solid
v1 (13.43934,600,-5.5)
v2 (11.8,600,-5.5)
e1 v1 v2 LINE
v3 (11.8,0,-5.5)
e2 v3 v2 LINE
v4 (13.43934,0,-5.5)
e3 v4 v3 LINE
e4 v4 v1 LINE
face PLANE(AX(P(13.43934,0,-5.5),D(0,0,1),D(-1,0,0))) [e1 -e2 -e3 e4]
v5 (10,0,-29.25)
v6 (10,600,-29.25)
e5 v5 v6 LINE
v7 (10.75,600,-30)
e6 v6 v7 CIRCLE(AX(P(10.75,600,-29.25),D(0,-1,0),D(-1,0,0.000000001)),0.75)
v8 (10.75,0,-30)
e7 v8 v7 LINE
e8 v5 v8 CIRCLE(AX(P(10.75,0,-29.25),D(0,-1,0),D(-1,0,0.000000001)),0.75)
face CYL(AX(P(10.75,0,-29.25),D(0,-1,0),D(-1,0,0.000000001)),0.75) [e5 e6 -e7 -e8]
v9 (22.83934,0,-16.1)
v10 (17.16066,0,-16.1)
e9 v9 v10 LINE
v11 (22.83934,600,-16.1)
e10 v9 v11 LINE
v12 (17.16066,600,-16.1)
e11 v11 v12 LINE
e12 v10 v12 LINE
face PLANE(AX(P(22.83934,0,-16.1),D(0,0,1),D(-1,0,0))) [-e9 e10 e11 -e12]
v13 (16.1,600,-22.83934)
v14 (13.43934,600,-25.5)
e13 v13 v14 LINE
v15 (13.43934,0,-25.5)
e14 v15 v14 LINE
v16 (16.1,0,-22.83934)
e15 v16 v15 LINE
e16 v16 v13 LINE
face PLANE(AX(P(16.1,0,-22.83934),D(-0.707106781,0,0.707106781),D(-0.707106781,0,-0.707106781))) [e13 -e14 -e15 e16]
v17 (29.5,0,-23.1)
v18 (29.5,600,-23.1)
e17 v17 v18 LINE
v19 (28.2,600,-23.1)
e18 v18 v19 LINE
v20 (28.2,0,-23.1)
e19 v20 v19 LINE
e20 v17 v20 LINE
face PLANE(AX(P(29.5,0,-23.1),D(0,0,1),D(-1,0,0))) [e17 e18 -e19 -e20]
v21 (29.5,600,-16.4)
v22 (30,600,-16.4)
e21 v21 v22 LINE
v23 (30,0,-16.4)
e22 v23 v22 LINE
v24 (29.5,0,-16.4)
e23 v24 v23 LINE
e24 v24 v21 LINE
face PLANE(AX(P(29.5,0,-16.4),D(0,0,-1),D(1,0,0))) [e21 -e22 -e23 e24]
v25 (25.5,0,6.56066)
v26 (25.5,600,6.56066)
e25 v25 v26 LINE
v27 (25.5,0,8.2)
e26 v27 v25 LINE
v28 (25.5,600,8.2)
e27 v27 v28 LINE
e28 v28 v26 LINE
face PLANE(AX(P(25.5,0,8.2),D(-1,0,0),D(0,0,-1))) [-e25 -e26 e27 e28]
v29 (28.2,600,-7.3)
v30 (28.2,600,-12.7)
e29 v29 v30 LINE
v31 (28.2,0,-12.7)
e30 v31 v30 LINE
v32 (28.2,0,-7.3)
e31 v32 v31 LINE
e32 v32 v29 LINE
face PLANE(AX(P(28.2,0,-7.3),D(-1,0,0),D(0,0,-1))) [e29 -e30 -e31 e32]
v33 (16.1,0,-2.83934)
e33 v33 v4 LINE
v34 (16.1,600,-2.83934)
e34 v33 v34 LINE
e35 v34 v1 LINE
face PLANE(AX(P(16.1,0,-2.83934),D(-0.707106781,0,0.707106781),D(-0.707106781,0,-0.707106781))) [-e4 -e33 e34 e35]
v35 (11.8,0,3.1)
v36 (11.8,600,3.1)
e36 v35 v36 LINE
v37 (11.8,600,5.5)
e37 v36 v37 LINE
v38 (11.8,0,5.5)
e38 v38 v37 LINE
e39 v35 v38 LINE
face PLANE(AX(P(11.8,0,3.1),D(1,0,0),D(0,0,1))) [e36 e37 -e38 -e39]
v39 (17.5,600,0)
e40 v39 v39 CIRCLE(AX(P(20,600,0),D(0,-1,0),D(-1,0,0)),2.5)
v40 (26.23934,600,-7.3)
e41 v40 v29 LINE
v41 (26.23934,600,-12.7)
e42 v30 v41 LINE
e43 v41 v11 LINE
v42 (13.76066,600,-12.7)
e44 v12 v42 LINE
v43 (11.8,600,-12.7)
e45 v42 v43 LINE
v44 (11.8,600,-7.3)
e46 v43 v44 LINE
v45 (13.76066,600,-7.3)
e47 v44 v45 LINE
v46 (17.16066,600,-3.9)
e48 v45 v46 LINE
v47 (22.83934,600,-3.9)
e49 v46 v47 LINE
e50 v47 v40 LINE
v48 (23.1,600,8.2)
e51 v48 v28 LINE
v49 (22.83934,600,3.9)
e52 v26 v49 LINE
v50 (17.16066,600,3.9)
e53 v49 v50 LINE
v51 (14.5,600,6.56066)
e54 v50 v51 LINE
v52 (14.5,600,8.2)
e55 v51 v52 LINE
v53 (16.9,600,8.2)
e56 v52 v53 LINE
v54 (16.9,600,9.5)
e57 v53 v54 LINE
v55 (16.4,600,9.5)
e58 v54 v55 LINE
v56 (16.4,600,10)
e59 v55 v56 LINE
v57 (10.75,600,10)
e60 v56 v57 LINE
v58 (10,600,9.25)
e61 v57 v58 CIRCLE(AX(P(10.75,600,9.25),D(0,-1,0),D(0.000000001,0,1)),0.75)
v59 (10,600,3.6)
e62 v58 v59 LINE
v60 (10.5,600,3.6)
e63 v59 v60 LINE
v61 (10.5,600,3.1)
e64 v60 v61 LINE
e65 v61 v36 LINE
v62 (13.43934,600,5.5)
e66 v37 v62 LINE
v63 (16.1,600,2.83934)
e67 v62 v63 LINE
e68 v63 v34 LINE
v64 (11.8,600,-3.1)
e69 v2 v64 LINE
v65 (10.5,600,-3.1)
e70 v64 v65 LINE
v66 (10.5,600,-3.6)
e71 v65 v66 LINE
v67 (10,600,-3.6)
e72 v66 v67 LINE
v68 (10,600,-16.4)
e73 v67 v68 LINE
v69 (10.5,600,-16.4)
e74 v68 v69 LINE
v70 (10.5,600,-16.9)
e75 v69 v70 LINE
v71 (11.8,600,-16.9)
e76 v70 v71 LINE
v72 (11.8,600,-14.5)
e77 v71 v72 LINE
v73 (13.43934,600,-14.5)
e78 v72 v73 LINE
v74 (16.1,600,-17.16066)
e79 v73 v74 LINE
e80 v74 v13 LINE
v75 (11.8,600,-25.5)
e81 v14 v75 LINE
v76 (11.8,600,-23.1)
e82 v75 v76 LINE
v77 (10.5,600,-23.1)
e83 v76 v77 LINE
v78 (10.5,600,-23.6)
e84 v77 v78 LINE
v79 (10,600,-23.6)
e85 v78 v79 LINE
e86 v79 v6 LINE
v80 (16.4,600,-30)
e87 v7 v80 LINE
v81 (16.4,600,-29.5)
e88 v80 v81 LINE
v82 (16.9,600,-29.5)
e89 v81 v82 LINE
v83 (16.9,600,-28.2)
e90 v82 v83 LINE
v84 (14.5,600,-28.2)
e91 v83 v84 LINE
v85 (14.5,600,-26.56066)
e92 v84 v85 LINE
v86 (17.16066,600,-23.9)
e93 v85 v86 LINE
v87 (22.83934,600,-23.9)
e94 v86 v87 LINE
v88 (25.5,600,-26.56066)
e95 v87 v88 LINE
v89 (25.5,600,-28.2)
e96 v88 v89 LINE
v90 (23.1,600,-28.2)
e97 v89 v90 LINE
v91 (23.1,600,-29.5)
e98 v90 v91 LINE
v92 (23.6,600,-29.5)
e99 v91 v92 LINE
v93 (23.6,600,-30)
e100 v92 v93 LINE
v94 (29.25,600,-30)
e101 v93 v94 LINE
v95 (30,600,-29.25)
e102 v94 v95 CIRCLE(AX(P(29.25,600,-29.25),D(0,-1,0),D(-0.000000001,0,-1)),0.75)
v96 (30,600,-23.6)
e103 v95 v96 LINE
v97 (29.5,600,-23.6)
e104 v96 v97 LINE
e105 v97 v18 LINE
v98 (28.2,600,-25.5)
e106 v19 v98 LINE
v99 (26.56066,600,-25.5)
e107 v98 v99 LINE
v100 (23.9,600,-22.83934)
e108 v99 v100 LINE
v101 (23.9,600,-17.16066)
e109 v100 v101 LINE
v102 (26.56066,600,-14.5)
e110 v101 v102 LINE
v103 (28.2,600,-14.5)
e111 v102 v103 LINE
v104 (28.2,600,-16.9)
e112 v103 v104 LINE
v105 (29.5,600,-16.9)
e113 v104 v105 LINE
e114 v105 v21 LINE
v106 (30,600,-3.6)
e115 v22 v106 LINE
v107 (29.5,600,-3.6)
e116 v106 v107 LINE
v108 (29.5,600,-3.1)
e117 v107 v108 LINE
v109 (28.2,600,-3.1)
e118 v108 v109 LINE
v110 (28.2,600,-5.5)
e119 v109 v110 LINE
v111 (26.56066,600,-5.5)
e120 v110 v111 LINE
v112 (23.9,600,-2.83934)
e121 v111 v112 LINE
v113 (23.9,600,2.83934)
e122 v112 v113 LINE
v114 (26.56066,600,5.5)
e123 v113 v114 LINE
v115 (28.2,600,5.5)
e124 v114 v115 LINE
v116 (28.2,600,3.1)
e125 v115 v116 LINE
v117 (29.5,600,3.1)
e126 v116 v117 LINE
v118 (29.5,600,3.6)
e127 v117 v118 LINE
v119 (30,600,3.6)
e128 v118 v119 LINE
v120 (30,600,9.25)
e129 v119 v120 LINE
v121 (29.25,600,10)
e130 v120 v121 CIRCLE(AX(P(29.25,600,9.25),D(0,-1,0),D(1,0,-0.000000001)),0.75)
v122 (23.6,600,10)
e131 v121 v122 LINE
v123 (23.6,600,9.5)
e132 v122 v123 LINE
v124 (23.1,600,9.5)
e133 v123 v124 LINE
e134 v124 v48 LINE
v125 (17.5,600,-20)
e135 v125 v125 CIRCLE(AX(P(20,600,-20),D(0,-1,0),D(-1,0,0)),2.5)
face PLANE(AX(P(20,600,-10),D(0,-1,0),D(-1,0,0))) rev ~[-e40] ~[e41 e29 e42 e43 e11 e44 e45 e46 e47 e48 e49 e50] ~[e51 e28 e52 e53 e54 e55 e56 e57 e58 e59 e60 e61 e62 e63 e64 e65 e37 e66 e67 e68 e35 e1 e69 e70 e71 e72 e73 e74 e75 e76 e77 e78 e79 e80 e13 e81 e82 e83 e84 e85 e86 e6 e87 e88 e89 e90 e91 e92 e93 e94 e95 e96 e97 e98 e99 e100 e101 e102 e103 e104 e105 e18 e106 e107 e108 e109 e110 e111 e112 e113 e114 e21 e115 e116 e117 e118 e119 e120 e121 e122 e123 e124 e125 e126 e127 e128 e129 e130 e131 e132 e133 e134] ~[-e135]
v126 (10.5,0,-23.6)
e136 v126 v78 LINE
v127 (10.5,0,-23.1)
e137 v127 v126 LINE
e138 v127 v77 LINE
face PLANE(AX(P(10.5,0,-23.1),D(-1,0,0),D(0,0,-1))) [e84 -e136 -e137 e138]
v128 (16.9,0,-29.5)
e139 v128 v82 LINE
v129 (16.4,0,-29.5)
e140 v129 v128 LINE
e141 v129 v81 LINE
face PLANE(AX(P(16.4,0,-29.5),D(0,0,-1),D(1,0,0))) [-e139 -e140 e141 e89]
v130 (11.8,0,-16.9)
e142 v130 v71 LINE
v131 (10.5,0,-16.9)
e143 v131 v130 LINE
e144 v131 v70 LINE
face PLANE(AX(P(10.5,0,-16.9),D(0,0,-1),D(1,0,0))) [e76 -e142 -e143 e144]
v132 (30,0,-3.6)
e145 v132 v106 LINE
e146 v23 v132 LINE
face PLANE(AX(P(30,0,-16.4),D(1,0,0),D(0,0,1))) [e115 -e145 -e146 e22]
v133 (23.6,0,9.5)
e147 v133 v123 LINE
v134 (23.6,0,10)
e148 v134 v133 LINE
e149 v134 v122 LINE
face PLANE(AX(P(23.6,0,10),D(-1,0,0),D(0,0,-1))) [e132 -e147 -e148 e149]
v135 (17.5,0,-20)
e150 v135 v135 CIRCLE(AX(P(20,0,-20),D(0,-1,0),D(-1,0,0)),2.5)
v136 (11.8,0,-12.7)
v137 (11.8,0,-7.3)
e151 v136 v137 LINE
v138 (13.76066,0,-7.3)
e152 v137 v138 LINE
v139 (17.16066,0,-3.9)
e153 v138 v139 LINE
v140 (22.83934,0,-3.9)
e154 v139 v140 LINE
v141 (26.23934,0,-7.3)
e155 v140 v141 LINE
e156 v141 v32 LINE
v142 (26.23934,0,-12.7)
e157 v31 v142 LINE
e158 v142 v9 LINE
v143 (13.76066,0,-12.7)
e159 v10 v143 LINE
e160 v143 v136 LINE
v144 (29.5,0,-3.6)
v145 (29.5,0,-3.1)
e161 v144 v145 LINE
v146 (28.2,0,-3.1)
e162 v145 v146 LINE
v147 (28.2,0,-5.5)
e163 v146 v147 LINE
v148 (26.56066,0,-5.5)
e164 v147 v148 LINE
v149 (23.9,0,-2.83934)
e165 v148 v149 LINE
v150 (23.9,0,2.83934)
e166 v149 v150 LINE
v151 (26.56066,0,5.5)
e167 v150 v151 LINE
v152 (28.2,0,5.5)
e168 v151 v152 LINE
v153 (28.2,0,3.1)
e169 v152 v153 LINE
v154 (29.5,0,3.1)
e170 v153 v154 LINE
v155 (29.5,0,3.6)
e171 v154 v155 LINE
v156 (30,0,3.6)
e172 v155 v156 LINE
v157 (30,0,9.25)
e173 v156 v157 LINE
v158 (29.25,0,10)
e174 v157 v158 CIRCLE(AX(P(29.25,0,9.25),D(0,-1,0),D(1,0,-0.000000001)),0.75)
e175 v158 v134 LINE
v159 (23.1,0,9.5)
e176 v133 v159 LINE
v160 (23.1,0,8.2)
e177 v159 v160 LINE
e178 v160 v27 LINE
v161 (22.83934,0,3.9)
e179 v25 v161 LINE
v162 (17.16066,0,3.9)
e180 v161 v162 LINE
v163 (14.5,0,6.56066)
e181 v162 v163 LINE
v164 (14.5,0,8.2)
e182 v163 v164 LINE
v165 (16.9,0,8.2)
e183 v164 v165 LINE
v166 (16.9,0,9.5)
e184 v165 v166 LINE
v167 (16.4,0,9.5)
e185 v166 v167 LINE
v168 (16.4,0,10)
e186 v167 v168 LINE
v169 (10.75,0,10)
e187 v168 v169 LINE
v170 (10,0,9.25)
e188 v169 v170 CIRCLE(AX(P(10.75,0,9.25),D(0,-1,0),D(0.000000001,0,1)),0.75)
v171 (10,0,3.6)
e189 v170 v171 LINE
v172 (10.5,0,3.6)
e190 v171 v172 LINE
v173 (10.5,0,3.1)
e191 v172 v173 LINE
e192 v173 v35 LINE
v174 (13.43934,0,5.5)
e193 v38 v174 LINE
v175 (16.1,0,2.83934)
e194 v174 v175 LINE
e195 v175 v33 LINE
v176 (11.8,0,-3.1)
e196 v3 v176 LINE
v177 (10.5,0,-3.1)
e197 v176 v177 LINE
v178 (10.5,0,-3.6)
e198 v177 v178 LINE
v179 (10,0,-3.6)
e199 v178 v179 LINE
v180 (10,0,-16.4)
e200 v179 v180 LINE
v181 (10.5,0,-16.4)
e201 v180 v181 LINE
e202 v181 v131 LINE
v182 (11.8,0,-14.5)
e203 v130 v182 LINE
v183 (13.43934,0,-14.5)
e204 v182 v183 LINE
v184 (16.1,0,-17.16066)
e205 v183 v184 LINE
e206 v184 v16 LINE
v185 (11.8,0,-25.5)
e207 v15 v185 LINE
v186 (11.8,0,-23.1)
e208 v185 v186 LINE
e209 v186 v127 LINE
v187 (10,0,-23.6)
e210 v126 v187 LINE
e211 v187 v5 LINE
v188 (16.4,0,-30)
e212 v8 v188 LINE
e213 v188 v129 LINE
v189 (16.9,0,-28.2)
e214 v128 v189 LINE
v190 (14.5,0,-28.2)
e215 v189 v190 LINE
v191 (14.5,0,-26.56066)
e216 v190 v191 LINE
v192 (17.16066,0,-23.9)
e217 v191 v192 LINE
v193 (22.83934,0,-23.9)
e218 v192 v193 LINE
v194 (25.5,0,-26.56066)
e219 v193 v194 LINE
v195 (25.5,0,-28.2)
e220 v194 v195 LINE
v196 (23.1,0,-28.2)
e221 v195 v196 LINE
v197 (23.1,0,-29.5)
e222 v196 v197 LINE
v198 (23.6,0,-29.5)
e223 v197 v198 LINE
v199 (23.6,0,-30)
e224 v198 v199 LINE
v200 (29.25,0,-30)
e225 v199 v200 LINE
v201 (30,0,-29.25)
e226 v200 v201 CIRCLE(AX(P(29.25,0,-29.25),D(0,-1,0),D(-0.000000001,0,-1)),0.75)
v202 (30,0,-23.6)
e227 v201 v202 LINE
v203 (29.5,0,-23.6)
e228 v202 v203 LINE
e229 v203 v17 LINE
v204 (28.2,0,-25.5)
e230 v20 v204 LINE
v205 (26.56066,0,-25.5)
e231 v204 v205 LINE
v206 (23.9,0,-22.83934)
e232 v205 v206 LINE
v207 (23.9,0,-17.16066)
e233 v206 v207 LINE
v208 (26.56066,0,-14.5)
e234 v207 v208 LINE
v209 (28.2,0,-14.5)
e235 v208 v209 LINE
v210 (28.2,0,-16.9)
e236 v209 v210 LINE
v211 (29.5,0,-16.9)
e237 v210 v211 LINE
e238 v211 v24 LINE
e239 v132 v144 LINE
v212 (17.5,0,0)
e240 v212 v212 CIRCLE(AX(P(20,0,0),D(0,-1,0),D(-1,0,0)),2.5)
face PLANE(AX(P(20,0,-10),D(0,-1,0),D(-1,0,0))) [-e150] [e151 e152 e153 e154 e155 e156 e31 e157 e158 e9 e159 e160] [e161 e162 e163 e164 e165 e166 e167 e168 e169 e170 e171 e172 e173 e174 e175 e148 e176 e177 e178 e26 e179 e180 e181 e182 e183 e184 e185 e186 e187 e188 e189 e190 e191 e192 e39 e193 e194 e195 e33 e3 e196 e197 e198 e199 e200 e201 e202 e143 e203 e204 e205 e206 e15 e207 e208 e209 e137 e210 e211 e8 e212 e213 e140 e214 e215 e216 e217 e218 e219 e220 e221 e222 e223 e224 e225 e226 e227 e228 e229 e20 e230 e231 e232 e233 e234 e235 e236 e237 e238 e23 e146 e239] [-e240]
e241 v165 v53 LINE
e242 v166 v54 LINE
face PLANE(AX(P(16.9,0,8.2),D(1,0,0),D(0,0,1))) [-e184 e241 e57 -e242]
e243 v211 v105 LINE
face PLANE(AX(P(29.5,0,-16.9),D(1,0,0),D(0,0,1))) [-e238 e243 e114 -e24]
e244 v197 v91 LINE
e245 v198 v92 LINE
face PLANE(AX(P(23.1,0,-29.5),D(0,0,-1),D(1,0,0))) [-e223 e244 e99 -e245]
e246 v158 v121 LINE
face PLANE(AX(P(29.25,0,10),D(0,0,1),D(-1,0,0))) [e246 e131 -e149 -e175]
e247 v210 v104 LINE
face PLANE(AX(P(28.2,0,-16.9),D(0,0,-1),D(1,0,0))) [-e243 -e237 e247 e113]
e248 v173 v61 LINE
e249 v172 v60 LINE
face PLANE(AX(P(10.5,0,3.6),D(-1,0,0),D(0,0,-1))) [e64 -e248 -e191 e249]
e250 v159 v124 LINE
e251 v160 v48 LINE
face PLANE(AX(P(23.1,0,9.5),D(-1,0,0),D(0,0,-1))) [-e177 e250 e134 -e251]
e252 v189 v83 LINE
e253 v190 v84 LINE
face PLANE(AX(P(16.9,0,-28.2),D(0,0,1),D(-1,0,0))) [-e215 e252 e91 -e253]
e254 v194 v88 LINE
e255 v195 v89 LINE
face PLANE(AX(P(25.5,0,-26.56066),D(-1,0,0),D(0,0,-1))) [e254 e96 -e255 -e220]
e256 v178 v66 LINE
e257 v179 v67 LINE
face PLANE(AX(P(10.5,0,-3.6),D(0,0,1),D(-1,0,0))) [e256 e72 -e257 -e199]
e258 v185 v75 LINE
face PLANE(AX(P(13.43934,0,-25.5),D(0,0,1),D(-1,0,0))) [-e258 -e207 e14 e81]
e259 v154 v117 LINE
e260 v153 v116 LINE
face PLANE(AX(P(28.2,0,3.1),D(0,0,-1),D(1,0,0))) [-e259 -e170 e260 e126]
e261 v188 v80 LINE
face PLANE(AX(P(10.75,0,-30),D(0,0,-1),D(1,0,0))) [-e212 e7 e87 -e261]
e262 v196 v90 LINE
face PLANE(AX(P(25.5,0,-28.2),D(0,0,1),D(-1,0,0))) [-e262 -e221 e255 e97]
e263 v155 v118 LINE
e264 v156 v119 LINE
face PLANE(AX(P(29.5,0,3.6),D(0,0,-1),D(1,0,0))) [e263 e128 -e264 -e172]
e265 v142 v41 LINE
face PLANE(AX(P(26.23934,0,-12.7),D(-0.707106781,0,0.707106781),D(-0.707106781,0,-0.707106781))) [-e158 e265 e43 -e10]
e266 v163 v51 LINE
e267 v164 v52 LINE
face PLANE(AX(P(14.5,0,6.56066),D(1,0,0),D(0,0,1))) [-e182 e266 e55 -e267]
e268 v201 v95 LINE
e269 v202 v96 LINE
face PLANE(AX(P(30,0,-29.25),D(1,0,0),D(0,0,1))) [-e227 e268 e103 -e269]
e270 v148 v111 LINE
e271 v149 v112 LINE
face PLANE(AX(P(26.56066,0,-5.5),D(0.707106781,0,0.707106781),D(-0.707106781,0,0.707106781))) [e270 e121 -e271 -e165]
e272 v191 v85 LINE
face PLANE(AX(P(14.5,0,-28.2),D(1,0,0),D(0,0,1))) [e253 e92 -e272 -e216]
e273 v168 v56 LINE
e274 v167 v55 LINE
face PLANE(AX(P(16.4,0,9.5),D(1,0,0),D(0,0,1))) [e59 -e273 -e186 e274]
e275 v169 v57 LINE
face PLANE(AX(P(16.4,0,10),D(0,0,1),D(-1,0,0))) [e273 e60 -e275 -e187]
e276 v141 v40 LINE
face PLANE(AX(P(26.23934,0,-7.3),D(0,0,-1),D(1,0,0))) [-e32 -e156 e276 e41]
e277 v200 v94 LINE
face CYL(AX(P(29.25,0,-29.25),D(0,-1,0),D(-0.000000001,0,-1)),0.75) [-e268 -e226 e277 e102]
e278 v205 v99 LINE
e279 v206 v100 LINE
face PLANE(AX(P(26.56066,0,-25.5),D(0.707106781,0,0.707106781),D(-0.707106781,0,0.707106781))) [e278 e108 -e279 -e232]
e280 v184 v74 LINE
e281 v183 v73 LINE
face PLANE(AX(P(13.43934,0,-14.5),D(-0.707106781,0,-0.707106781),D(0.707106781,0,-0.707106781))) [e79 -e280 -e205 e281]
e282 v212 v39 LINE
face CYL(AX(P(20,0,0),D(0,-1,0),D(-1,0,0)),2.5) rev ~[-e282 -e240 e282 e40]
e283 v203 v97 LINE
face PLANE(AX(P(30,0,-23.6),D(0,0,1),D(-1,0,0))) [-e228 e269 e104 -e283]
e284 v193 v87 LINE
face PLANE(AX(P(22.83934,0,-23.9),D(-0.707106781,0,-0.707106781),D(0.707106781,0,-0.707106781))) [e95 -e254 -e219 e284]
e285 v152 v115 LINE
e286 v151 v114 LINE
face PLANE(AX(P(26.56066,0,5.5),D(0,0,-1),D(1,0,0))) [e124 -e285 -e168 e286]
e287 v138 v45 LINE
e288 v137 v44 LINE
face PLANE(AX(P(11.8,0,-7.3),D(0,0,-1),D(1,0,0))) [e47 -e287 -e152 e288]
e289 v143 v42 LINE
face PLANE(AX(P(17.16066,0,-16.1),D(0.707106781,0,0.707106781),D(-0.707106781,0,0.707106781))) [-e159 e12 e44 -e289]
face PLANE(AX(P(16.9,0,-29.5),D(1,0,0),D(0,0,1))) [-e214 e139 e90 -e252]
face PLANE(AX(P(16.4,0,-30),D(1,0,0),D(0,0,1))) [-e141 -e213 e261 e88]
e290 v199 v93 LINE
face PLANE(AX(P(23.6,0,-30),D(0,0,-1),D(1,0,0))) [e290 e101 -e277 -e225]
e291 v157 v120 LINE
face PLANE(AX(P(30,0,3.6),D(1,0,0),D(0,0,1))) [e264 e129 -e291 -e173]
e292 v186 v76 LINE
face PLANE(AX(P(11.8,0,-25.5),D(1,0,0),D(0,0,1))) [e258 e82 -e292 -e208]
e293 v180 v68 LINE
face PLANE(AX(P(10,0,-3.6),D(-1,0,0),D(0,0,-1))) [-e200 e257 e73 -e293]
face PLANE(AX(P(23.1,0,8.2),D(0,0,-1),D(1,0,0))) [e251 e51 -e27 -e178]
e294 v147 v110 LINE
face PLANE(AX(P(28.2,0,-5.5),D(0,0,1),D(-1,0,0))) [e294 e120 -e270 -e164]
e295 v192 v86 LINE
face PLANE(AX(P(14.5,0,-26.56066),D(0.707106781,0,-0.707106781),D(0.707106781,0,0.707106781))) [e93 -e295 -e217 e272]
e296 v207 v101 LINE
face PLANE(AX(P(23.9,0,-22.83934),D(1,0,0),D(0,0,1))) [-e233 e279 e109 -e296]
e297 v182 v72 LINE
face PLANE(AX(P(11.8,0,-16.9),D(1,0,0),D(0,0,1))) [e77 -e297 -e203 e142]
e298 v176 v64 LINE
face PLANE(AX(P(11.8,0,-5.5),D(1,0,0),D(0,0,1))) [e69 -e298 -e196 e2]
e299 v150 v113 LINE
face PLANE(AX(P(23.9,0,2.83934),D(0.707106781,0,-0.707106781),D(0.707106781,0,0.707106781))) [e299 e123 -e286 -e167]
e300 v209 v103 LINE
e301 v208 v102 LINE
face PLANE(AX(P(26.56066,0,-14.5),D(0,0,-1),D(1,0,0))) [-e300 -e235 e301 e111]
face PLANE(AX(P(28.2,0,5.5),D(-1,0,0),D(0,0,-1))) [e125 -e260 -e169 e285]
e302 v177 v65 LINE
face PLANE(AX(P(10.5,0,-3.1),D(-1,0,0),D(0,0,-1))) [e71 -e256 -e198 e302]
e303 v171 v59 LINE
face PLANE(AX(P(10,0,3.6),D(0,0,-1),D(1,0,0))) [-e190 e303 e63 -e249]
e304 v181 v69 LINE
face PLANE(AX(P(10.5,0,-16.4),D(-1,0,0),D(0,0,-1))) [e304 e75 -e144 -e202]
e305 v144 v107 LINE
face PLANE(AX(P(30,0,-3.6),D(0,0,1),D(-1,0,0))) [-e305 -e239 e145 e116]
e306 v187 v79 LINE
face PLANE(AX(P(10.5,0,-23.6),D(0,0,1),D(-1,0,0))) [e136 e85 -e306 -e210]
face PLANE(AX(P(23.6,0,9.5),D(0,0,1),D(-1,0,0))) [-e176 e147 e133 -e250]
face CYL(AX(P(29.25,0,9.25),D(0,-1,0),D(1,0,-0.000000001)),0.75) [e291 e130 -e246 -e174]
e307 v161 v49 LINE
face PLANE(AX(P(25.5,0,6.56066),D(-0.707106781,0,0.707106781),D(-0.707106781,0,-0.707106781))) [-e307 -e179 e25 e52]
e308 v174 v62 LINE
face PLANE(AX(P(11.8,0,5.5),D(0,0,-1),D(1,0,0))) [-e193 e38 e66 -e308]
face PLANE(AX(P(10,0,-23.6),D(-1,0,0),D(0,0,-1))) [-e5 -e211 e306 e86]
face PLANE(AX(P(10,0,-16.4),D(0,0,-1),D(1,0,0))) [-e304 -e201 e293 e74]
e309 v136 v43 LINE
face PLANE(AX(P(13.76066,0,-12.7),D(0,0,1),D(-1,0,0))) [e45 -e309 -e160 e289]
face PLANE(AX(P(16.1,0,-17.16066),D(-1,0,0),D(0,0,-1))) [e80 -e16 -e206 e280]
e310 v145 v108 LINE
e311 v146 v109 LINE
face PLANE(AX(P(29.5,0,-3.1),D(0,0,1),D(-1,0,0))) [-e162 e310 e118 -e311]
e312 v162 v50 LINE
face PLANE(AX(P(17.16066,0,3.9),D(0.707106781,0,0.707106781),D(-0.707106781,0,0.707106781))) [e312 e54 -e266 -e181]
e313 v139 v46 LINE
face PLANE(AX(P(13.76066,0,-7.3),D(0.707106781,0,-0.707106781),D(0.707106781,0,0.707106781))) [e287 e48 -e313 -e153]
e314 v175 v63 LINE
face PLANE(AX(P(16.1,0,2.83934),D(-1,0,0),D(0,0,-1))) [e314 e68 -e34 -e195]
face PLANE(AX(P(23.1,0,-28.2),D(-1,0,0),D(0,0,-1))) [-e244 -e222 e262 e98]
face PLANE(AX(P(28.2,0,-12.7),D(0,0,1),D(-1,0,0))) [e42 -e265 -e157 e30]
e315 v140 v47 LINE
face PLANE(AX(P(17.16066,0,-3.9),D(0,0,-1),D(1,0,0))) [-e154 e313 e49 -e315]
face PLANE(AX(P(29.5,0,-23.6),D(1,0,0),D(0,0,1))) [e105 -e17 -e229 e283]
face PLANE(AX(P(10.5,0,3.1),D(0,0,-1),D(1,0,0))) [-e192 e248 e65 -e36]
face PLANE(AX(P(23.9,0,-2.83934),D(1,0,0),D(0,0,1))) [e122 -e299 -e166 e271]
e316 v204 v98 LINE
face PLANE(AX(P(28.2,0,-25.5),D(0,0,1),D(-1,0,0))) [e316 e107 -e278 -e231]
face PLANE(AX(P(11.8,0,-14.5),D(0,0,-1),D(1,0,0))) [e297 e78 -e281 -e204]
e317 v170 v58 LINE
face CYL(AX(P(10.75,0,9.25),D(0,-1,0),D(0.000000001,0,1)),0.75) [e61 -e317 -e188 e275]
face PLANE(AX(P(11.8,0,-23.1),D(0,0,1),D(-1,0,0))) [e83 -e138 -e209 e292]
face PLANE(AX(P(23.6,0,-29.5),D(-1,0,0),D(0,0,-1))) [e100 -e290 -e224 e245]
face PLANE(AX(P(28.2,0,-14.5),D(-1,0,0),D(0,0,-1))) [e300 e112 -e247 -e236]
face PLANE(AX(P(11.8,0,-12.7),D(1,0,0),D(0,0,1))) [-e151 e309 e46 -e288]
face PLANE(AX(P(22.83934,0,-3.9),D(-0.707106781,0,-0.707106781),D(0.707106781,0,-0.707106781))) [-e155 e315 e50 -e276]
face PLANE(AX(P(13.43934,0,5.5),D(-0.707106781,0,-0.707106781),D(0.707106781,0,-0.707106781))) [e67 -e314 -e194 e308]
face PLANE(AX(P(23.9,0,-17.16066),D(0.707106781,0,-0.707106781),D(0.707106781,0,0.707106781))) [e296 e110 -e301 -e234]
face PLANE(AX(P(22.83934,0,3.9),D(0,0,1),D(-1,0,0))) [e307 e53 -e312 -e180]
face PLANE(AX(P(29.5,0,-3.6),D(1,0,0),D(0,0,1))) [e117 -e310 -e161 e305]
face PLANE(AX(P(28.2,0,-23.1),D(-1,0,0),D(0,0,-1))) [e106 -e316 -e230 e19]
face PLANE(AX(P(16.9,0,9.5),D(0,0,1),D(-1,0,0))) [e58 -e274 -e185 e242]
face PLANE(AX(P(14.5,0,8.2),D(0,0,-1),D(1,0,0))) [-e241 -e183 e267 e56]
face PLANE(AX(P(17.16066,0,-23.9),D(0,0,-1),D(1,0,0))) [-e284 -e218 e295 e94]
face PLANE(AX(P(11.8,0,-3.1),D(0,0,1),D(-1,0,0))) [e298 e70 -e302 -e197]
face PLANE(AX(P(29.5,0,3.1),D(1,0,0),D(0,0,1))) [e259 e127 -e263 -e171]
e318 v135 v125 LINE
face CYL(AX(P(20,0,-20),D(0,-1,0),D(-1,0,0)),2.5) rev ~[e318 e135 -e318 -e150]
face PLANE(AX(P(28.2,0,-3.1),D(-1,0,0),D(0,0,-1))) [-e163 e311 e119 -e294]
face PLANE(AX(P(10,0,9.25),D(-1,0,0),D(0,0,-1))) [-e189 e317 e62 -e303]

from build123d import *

# Parameters (mm, degrees)
BOSS_EXTRUDE2_DEPTH = 600


with BuildPart() as part:
    # Sketch1 → Boss-Extrude2 (new body)
    with BuildSketch(Plane(origin=(0, 0, 0), x_dir=(1, 0, 0), z_dir=(0, 1, 0))):
        with BuildLine():
            Line((23.9, 20), (23.9, 17.160660172))
            Line((23.9, 17.160660172), (26.560660172, 14.5))
            Line((26.560660172, 14.5), (28.2, 14.5))
            Line((28.2, 14.5), (28.2, 16.9))
            Line((28.2, 16.9), (29.5, 16.9))
            Line((29.5, 16.9), (29.5, 16.4))
            Line((29.5, 16.4), (30, 16.4))
            Line((30, 16.4), (30, 10.75))
            Line((30, 10.75), (30, 9.25))
            Line((30, 9.25), (30, 3.6))
            Line((30, 3.6), (29.5, 3.6))
            Line((29.5, 3.6), (29.5, 3.1))
            Line((29.5, 3.1), (28.2, 3.1))
            Line((28.2, 3.1), (28.2, 5.5))
            Line((28.2, 5.5), (26.560660172, 5.5))
            Line((26.560660172, 5.5), (23.9, 2.839339828))
            Line((23.9, 2.839339828), (23.9, 0))
            Line((23.9, 0), (23.9, -2.839339828))
            Line((23.9, -2.839339828), (26.560660172, -5.5))
            Line((26.560660172, -5.5), (28.2, -5.5))
            Line((28.2, -5.5), (28.2, -3.1))
            Line((28.2, -3.1), (29.5, -3.1))
            Line((29.5, -3.1), (29.5, -3.6))
            Line((29.5, -3.6), (30, -3.6))
            Line((30, -3.6), (30, -9.25))
            ThreePointArc((30, -9.25), (29.780330086, -9.780330086), (29.25, -10))
            Line((29.25, -10), (25.5, -10))
            Line((25.5, -10), (23.6, -10))
            Line((23.6, -10), (23.6, -9.5))
            Line((23.6, -9.5), (23.1, -9.5))
            Line((23.1, -9.5), (23.1, -8.2))
            Line((23.1, -8.2), (25.5, -8.2))
            Line((25.5, -8.2), (25.5, -6.560660172))
            Line((25.5, -6.560660172), (22.839339828, -3.9))
            Line((22.839339828, -3.9), (17.160660172, -3.9))
            Line((17.160660172, -3.9), (14.5, -6.560660172))
            Line((14.5, -6.560660172), (14.5, -8.2))
            Line((14.5, -8.2), (16.9, -8.2))
            Line((16.9, -8.2), (16.9, -9.5))
            Line((16.9, -9.5), (16.4, -9.5))
            Line((16.4, -9.5), (16.4, -10))
            Line((16.4, -10), (14.5, -10))
            Line((14.5, -10), (10.75, -10))
            ThreePointArc((10.75, -10), (10.219669914, -9.780330086), (10, -9.25))
            Line((10, -9.25), (10, -3.6))
            Line((10, -3.6), (10.5, -3.6))
            Line((10.5, -3.6), (10.5, -3.1))
            Line((10.5, -3.1), (11.8, -3.1))
            Line((11.8, -3.1), (11.8, -5.5))
            Line((11.8, -5.5), (13.439339828, -5.5))
            Line((13.439339828, -5.5), (16.1, -2.839339828))
            Line((16.1, -2.839339828), (16.1, 0))
            Line((16.1, 0), (16.1, 2.839339828))
            Line((16.1, 2.839339828), (13.439339828, 5.5))
            Line((13.439339828, 5.5), (11.8, 5.5))
            Line((11.8, 5.5), (11.8, 3.1))
            Line((11.8, 3.1), (10.5, 3.1))
            Line((10.5, 3.1), (10.5, 3.6))
            Line((10.5, 3.6), (10, 3.6))
            Line((10, 3.6), (10, 9.25))
            Line((10, 9.25), (10, 10.75))
            Line((10, 10.75), (10, 16.4))
            Line((10, 16.4), (10.5, 16.4))
            Line((10.5, 16.4), (10.5, 16.9))
            Line((10.5, 16.9), (11.8, 16.9))
            Line((11.8, 16.9), (11.8, 14.5))
            Line((11.8, 14.5), (13.439339828, 14.5))
            Line((13.439339828, 14.5), (16.1, 17.160660172))
            Line((16.1, 17.160660172), (16.1, 20))
            Line((16.1, 20), (16.1, 22.839339828))
            Line((16.1, 22.839339828), (13.439339828, 25.5))
            Line((13.439339828, 25.5), (11.8, 25.5))
            Line((11.8, 25.5), (11.8, 23.1))
            Line((11.8, 23.1), (10.5, 23.1))
            Line((10.5, 23.1), (10.5, 23.6))
            Line((10.5, 23.6), (10, 23.6))
            Line((10, 23.6), (10, 29.25))
            ThreePointArc((10, 29.25), (10.219669914, 29.780330086), (10.75, 30))
            Line((10.75, 30), (14.5, 30))
            Line((14.5, 30), (16.4, 30))
            Line((16.4, 30), (16.4, 29.5))
            Line((16.4, 29.5), (16.9, 29.5))
            Line((16.9, 29.5), (16.9, 28.2))
            Line((16.9, 28.2), (14.5, 28.2))
            Line((14.5, 28.2), (14.5, 26.560660172))
            Line((14.5, 26.560660172), (17.160660172, 23.9))
            Line((17.160660172, 23.9), (22.839339828, 23.9))
            Line((22.839339828, 23.9), (25.5, 26.560660172))
            Line((25.5, 26.560660172), (25.5, 28.2))
            Line((25.5, 28.2), (23.1, 28.2))
            Line((23.1, 28.2), (23.1, 29.5))
            Line((23.1, 29.5), (23.6, 29.5))
            Line((23.6, 29.5), (23.6, 30))
            Line((23.6, 30), (25.5, 30))
            Line((25.5, 30), (29.25, 30))
            ThreePointArc((29.25, 30), (29.780330086, 29.780330086), (30, 29.25))
            Line((30, 29.25), (30, 23.6))
            Line((30, 23.6), (29.5, 23.6))
            Line((29.5, 23.6), (29.5, 23.1))
            Line((29.5, 23.1), (28.2, 23.1))
            Line((28.2, 23.1), (28.2, 25.5))
            Line((28.2, 25.5), (26.560660172, 25.5))
            Line((26.560660172, 25.5), (23.9, 22.839339828))
            Line((23.9, 22.839339828), (23.9, 20))
        make_face()
        Polygon((17.160660172, 16.1), (13.760660172, 12.7), (11.8, 12.7), (11.8, 7.3), (13.760660172, 7.3), (17.160660172, 3.9), (22.839339828, 3.9), (26.239339828, 7.3), (28.2, 7.3), (28.2, 12.7), (26.239339828, 12.7), (22.839339828, 16.1), align=None, mode=Mode.SUBTRACT)
        with BuildLine():
            ThreePointArc((22.5, 20), (20, 17.5), (17.5, 20))
            ThreePointArc((17.5, 20), (20, 22.5), (22.5, 20))
        make_face(mode=Mode.SUBTRACT)
        with BuildLine():
            ThreePointArc((22.5, 0), (20, -2.5), (17.5, 0))
            ThreePointArc((17.5, 0), (20, 2.5), (22.5, 0))
        make_face(mode=Mode.SUBTRACT)
    extrude(amount=BOSS_EXTRUDE2_DEPTH)


solid = part.part
